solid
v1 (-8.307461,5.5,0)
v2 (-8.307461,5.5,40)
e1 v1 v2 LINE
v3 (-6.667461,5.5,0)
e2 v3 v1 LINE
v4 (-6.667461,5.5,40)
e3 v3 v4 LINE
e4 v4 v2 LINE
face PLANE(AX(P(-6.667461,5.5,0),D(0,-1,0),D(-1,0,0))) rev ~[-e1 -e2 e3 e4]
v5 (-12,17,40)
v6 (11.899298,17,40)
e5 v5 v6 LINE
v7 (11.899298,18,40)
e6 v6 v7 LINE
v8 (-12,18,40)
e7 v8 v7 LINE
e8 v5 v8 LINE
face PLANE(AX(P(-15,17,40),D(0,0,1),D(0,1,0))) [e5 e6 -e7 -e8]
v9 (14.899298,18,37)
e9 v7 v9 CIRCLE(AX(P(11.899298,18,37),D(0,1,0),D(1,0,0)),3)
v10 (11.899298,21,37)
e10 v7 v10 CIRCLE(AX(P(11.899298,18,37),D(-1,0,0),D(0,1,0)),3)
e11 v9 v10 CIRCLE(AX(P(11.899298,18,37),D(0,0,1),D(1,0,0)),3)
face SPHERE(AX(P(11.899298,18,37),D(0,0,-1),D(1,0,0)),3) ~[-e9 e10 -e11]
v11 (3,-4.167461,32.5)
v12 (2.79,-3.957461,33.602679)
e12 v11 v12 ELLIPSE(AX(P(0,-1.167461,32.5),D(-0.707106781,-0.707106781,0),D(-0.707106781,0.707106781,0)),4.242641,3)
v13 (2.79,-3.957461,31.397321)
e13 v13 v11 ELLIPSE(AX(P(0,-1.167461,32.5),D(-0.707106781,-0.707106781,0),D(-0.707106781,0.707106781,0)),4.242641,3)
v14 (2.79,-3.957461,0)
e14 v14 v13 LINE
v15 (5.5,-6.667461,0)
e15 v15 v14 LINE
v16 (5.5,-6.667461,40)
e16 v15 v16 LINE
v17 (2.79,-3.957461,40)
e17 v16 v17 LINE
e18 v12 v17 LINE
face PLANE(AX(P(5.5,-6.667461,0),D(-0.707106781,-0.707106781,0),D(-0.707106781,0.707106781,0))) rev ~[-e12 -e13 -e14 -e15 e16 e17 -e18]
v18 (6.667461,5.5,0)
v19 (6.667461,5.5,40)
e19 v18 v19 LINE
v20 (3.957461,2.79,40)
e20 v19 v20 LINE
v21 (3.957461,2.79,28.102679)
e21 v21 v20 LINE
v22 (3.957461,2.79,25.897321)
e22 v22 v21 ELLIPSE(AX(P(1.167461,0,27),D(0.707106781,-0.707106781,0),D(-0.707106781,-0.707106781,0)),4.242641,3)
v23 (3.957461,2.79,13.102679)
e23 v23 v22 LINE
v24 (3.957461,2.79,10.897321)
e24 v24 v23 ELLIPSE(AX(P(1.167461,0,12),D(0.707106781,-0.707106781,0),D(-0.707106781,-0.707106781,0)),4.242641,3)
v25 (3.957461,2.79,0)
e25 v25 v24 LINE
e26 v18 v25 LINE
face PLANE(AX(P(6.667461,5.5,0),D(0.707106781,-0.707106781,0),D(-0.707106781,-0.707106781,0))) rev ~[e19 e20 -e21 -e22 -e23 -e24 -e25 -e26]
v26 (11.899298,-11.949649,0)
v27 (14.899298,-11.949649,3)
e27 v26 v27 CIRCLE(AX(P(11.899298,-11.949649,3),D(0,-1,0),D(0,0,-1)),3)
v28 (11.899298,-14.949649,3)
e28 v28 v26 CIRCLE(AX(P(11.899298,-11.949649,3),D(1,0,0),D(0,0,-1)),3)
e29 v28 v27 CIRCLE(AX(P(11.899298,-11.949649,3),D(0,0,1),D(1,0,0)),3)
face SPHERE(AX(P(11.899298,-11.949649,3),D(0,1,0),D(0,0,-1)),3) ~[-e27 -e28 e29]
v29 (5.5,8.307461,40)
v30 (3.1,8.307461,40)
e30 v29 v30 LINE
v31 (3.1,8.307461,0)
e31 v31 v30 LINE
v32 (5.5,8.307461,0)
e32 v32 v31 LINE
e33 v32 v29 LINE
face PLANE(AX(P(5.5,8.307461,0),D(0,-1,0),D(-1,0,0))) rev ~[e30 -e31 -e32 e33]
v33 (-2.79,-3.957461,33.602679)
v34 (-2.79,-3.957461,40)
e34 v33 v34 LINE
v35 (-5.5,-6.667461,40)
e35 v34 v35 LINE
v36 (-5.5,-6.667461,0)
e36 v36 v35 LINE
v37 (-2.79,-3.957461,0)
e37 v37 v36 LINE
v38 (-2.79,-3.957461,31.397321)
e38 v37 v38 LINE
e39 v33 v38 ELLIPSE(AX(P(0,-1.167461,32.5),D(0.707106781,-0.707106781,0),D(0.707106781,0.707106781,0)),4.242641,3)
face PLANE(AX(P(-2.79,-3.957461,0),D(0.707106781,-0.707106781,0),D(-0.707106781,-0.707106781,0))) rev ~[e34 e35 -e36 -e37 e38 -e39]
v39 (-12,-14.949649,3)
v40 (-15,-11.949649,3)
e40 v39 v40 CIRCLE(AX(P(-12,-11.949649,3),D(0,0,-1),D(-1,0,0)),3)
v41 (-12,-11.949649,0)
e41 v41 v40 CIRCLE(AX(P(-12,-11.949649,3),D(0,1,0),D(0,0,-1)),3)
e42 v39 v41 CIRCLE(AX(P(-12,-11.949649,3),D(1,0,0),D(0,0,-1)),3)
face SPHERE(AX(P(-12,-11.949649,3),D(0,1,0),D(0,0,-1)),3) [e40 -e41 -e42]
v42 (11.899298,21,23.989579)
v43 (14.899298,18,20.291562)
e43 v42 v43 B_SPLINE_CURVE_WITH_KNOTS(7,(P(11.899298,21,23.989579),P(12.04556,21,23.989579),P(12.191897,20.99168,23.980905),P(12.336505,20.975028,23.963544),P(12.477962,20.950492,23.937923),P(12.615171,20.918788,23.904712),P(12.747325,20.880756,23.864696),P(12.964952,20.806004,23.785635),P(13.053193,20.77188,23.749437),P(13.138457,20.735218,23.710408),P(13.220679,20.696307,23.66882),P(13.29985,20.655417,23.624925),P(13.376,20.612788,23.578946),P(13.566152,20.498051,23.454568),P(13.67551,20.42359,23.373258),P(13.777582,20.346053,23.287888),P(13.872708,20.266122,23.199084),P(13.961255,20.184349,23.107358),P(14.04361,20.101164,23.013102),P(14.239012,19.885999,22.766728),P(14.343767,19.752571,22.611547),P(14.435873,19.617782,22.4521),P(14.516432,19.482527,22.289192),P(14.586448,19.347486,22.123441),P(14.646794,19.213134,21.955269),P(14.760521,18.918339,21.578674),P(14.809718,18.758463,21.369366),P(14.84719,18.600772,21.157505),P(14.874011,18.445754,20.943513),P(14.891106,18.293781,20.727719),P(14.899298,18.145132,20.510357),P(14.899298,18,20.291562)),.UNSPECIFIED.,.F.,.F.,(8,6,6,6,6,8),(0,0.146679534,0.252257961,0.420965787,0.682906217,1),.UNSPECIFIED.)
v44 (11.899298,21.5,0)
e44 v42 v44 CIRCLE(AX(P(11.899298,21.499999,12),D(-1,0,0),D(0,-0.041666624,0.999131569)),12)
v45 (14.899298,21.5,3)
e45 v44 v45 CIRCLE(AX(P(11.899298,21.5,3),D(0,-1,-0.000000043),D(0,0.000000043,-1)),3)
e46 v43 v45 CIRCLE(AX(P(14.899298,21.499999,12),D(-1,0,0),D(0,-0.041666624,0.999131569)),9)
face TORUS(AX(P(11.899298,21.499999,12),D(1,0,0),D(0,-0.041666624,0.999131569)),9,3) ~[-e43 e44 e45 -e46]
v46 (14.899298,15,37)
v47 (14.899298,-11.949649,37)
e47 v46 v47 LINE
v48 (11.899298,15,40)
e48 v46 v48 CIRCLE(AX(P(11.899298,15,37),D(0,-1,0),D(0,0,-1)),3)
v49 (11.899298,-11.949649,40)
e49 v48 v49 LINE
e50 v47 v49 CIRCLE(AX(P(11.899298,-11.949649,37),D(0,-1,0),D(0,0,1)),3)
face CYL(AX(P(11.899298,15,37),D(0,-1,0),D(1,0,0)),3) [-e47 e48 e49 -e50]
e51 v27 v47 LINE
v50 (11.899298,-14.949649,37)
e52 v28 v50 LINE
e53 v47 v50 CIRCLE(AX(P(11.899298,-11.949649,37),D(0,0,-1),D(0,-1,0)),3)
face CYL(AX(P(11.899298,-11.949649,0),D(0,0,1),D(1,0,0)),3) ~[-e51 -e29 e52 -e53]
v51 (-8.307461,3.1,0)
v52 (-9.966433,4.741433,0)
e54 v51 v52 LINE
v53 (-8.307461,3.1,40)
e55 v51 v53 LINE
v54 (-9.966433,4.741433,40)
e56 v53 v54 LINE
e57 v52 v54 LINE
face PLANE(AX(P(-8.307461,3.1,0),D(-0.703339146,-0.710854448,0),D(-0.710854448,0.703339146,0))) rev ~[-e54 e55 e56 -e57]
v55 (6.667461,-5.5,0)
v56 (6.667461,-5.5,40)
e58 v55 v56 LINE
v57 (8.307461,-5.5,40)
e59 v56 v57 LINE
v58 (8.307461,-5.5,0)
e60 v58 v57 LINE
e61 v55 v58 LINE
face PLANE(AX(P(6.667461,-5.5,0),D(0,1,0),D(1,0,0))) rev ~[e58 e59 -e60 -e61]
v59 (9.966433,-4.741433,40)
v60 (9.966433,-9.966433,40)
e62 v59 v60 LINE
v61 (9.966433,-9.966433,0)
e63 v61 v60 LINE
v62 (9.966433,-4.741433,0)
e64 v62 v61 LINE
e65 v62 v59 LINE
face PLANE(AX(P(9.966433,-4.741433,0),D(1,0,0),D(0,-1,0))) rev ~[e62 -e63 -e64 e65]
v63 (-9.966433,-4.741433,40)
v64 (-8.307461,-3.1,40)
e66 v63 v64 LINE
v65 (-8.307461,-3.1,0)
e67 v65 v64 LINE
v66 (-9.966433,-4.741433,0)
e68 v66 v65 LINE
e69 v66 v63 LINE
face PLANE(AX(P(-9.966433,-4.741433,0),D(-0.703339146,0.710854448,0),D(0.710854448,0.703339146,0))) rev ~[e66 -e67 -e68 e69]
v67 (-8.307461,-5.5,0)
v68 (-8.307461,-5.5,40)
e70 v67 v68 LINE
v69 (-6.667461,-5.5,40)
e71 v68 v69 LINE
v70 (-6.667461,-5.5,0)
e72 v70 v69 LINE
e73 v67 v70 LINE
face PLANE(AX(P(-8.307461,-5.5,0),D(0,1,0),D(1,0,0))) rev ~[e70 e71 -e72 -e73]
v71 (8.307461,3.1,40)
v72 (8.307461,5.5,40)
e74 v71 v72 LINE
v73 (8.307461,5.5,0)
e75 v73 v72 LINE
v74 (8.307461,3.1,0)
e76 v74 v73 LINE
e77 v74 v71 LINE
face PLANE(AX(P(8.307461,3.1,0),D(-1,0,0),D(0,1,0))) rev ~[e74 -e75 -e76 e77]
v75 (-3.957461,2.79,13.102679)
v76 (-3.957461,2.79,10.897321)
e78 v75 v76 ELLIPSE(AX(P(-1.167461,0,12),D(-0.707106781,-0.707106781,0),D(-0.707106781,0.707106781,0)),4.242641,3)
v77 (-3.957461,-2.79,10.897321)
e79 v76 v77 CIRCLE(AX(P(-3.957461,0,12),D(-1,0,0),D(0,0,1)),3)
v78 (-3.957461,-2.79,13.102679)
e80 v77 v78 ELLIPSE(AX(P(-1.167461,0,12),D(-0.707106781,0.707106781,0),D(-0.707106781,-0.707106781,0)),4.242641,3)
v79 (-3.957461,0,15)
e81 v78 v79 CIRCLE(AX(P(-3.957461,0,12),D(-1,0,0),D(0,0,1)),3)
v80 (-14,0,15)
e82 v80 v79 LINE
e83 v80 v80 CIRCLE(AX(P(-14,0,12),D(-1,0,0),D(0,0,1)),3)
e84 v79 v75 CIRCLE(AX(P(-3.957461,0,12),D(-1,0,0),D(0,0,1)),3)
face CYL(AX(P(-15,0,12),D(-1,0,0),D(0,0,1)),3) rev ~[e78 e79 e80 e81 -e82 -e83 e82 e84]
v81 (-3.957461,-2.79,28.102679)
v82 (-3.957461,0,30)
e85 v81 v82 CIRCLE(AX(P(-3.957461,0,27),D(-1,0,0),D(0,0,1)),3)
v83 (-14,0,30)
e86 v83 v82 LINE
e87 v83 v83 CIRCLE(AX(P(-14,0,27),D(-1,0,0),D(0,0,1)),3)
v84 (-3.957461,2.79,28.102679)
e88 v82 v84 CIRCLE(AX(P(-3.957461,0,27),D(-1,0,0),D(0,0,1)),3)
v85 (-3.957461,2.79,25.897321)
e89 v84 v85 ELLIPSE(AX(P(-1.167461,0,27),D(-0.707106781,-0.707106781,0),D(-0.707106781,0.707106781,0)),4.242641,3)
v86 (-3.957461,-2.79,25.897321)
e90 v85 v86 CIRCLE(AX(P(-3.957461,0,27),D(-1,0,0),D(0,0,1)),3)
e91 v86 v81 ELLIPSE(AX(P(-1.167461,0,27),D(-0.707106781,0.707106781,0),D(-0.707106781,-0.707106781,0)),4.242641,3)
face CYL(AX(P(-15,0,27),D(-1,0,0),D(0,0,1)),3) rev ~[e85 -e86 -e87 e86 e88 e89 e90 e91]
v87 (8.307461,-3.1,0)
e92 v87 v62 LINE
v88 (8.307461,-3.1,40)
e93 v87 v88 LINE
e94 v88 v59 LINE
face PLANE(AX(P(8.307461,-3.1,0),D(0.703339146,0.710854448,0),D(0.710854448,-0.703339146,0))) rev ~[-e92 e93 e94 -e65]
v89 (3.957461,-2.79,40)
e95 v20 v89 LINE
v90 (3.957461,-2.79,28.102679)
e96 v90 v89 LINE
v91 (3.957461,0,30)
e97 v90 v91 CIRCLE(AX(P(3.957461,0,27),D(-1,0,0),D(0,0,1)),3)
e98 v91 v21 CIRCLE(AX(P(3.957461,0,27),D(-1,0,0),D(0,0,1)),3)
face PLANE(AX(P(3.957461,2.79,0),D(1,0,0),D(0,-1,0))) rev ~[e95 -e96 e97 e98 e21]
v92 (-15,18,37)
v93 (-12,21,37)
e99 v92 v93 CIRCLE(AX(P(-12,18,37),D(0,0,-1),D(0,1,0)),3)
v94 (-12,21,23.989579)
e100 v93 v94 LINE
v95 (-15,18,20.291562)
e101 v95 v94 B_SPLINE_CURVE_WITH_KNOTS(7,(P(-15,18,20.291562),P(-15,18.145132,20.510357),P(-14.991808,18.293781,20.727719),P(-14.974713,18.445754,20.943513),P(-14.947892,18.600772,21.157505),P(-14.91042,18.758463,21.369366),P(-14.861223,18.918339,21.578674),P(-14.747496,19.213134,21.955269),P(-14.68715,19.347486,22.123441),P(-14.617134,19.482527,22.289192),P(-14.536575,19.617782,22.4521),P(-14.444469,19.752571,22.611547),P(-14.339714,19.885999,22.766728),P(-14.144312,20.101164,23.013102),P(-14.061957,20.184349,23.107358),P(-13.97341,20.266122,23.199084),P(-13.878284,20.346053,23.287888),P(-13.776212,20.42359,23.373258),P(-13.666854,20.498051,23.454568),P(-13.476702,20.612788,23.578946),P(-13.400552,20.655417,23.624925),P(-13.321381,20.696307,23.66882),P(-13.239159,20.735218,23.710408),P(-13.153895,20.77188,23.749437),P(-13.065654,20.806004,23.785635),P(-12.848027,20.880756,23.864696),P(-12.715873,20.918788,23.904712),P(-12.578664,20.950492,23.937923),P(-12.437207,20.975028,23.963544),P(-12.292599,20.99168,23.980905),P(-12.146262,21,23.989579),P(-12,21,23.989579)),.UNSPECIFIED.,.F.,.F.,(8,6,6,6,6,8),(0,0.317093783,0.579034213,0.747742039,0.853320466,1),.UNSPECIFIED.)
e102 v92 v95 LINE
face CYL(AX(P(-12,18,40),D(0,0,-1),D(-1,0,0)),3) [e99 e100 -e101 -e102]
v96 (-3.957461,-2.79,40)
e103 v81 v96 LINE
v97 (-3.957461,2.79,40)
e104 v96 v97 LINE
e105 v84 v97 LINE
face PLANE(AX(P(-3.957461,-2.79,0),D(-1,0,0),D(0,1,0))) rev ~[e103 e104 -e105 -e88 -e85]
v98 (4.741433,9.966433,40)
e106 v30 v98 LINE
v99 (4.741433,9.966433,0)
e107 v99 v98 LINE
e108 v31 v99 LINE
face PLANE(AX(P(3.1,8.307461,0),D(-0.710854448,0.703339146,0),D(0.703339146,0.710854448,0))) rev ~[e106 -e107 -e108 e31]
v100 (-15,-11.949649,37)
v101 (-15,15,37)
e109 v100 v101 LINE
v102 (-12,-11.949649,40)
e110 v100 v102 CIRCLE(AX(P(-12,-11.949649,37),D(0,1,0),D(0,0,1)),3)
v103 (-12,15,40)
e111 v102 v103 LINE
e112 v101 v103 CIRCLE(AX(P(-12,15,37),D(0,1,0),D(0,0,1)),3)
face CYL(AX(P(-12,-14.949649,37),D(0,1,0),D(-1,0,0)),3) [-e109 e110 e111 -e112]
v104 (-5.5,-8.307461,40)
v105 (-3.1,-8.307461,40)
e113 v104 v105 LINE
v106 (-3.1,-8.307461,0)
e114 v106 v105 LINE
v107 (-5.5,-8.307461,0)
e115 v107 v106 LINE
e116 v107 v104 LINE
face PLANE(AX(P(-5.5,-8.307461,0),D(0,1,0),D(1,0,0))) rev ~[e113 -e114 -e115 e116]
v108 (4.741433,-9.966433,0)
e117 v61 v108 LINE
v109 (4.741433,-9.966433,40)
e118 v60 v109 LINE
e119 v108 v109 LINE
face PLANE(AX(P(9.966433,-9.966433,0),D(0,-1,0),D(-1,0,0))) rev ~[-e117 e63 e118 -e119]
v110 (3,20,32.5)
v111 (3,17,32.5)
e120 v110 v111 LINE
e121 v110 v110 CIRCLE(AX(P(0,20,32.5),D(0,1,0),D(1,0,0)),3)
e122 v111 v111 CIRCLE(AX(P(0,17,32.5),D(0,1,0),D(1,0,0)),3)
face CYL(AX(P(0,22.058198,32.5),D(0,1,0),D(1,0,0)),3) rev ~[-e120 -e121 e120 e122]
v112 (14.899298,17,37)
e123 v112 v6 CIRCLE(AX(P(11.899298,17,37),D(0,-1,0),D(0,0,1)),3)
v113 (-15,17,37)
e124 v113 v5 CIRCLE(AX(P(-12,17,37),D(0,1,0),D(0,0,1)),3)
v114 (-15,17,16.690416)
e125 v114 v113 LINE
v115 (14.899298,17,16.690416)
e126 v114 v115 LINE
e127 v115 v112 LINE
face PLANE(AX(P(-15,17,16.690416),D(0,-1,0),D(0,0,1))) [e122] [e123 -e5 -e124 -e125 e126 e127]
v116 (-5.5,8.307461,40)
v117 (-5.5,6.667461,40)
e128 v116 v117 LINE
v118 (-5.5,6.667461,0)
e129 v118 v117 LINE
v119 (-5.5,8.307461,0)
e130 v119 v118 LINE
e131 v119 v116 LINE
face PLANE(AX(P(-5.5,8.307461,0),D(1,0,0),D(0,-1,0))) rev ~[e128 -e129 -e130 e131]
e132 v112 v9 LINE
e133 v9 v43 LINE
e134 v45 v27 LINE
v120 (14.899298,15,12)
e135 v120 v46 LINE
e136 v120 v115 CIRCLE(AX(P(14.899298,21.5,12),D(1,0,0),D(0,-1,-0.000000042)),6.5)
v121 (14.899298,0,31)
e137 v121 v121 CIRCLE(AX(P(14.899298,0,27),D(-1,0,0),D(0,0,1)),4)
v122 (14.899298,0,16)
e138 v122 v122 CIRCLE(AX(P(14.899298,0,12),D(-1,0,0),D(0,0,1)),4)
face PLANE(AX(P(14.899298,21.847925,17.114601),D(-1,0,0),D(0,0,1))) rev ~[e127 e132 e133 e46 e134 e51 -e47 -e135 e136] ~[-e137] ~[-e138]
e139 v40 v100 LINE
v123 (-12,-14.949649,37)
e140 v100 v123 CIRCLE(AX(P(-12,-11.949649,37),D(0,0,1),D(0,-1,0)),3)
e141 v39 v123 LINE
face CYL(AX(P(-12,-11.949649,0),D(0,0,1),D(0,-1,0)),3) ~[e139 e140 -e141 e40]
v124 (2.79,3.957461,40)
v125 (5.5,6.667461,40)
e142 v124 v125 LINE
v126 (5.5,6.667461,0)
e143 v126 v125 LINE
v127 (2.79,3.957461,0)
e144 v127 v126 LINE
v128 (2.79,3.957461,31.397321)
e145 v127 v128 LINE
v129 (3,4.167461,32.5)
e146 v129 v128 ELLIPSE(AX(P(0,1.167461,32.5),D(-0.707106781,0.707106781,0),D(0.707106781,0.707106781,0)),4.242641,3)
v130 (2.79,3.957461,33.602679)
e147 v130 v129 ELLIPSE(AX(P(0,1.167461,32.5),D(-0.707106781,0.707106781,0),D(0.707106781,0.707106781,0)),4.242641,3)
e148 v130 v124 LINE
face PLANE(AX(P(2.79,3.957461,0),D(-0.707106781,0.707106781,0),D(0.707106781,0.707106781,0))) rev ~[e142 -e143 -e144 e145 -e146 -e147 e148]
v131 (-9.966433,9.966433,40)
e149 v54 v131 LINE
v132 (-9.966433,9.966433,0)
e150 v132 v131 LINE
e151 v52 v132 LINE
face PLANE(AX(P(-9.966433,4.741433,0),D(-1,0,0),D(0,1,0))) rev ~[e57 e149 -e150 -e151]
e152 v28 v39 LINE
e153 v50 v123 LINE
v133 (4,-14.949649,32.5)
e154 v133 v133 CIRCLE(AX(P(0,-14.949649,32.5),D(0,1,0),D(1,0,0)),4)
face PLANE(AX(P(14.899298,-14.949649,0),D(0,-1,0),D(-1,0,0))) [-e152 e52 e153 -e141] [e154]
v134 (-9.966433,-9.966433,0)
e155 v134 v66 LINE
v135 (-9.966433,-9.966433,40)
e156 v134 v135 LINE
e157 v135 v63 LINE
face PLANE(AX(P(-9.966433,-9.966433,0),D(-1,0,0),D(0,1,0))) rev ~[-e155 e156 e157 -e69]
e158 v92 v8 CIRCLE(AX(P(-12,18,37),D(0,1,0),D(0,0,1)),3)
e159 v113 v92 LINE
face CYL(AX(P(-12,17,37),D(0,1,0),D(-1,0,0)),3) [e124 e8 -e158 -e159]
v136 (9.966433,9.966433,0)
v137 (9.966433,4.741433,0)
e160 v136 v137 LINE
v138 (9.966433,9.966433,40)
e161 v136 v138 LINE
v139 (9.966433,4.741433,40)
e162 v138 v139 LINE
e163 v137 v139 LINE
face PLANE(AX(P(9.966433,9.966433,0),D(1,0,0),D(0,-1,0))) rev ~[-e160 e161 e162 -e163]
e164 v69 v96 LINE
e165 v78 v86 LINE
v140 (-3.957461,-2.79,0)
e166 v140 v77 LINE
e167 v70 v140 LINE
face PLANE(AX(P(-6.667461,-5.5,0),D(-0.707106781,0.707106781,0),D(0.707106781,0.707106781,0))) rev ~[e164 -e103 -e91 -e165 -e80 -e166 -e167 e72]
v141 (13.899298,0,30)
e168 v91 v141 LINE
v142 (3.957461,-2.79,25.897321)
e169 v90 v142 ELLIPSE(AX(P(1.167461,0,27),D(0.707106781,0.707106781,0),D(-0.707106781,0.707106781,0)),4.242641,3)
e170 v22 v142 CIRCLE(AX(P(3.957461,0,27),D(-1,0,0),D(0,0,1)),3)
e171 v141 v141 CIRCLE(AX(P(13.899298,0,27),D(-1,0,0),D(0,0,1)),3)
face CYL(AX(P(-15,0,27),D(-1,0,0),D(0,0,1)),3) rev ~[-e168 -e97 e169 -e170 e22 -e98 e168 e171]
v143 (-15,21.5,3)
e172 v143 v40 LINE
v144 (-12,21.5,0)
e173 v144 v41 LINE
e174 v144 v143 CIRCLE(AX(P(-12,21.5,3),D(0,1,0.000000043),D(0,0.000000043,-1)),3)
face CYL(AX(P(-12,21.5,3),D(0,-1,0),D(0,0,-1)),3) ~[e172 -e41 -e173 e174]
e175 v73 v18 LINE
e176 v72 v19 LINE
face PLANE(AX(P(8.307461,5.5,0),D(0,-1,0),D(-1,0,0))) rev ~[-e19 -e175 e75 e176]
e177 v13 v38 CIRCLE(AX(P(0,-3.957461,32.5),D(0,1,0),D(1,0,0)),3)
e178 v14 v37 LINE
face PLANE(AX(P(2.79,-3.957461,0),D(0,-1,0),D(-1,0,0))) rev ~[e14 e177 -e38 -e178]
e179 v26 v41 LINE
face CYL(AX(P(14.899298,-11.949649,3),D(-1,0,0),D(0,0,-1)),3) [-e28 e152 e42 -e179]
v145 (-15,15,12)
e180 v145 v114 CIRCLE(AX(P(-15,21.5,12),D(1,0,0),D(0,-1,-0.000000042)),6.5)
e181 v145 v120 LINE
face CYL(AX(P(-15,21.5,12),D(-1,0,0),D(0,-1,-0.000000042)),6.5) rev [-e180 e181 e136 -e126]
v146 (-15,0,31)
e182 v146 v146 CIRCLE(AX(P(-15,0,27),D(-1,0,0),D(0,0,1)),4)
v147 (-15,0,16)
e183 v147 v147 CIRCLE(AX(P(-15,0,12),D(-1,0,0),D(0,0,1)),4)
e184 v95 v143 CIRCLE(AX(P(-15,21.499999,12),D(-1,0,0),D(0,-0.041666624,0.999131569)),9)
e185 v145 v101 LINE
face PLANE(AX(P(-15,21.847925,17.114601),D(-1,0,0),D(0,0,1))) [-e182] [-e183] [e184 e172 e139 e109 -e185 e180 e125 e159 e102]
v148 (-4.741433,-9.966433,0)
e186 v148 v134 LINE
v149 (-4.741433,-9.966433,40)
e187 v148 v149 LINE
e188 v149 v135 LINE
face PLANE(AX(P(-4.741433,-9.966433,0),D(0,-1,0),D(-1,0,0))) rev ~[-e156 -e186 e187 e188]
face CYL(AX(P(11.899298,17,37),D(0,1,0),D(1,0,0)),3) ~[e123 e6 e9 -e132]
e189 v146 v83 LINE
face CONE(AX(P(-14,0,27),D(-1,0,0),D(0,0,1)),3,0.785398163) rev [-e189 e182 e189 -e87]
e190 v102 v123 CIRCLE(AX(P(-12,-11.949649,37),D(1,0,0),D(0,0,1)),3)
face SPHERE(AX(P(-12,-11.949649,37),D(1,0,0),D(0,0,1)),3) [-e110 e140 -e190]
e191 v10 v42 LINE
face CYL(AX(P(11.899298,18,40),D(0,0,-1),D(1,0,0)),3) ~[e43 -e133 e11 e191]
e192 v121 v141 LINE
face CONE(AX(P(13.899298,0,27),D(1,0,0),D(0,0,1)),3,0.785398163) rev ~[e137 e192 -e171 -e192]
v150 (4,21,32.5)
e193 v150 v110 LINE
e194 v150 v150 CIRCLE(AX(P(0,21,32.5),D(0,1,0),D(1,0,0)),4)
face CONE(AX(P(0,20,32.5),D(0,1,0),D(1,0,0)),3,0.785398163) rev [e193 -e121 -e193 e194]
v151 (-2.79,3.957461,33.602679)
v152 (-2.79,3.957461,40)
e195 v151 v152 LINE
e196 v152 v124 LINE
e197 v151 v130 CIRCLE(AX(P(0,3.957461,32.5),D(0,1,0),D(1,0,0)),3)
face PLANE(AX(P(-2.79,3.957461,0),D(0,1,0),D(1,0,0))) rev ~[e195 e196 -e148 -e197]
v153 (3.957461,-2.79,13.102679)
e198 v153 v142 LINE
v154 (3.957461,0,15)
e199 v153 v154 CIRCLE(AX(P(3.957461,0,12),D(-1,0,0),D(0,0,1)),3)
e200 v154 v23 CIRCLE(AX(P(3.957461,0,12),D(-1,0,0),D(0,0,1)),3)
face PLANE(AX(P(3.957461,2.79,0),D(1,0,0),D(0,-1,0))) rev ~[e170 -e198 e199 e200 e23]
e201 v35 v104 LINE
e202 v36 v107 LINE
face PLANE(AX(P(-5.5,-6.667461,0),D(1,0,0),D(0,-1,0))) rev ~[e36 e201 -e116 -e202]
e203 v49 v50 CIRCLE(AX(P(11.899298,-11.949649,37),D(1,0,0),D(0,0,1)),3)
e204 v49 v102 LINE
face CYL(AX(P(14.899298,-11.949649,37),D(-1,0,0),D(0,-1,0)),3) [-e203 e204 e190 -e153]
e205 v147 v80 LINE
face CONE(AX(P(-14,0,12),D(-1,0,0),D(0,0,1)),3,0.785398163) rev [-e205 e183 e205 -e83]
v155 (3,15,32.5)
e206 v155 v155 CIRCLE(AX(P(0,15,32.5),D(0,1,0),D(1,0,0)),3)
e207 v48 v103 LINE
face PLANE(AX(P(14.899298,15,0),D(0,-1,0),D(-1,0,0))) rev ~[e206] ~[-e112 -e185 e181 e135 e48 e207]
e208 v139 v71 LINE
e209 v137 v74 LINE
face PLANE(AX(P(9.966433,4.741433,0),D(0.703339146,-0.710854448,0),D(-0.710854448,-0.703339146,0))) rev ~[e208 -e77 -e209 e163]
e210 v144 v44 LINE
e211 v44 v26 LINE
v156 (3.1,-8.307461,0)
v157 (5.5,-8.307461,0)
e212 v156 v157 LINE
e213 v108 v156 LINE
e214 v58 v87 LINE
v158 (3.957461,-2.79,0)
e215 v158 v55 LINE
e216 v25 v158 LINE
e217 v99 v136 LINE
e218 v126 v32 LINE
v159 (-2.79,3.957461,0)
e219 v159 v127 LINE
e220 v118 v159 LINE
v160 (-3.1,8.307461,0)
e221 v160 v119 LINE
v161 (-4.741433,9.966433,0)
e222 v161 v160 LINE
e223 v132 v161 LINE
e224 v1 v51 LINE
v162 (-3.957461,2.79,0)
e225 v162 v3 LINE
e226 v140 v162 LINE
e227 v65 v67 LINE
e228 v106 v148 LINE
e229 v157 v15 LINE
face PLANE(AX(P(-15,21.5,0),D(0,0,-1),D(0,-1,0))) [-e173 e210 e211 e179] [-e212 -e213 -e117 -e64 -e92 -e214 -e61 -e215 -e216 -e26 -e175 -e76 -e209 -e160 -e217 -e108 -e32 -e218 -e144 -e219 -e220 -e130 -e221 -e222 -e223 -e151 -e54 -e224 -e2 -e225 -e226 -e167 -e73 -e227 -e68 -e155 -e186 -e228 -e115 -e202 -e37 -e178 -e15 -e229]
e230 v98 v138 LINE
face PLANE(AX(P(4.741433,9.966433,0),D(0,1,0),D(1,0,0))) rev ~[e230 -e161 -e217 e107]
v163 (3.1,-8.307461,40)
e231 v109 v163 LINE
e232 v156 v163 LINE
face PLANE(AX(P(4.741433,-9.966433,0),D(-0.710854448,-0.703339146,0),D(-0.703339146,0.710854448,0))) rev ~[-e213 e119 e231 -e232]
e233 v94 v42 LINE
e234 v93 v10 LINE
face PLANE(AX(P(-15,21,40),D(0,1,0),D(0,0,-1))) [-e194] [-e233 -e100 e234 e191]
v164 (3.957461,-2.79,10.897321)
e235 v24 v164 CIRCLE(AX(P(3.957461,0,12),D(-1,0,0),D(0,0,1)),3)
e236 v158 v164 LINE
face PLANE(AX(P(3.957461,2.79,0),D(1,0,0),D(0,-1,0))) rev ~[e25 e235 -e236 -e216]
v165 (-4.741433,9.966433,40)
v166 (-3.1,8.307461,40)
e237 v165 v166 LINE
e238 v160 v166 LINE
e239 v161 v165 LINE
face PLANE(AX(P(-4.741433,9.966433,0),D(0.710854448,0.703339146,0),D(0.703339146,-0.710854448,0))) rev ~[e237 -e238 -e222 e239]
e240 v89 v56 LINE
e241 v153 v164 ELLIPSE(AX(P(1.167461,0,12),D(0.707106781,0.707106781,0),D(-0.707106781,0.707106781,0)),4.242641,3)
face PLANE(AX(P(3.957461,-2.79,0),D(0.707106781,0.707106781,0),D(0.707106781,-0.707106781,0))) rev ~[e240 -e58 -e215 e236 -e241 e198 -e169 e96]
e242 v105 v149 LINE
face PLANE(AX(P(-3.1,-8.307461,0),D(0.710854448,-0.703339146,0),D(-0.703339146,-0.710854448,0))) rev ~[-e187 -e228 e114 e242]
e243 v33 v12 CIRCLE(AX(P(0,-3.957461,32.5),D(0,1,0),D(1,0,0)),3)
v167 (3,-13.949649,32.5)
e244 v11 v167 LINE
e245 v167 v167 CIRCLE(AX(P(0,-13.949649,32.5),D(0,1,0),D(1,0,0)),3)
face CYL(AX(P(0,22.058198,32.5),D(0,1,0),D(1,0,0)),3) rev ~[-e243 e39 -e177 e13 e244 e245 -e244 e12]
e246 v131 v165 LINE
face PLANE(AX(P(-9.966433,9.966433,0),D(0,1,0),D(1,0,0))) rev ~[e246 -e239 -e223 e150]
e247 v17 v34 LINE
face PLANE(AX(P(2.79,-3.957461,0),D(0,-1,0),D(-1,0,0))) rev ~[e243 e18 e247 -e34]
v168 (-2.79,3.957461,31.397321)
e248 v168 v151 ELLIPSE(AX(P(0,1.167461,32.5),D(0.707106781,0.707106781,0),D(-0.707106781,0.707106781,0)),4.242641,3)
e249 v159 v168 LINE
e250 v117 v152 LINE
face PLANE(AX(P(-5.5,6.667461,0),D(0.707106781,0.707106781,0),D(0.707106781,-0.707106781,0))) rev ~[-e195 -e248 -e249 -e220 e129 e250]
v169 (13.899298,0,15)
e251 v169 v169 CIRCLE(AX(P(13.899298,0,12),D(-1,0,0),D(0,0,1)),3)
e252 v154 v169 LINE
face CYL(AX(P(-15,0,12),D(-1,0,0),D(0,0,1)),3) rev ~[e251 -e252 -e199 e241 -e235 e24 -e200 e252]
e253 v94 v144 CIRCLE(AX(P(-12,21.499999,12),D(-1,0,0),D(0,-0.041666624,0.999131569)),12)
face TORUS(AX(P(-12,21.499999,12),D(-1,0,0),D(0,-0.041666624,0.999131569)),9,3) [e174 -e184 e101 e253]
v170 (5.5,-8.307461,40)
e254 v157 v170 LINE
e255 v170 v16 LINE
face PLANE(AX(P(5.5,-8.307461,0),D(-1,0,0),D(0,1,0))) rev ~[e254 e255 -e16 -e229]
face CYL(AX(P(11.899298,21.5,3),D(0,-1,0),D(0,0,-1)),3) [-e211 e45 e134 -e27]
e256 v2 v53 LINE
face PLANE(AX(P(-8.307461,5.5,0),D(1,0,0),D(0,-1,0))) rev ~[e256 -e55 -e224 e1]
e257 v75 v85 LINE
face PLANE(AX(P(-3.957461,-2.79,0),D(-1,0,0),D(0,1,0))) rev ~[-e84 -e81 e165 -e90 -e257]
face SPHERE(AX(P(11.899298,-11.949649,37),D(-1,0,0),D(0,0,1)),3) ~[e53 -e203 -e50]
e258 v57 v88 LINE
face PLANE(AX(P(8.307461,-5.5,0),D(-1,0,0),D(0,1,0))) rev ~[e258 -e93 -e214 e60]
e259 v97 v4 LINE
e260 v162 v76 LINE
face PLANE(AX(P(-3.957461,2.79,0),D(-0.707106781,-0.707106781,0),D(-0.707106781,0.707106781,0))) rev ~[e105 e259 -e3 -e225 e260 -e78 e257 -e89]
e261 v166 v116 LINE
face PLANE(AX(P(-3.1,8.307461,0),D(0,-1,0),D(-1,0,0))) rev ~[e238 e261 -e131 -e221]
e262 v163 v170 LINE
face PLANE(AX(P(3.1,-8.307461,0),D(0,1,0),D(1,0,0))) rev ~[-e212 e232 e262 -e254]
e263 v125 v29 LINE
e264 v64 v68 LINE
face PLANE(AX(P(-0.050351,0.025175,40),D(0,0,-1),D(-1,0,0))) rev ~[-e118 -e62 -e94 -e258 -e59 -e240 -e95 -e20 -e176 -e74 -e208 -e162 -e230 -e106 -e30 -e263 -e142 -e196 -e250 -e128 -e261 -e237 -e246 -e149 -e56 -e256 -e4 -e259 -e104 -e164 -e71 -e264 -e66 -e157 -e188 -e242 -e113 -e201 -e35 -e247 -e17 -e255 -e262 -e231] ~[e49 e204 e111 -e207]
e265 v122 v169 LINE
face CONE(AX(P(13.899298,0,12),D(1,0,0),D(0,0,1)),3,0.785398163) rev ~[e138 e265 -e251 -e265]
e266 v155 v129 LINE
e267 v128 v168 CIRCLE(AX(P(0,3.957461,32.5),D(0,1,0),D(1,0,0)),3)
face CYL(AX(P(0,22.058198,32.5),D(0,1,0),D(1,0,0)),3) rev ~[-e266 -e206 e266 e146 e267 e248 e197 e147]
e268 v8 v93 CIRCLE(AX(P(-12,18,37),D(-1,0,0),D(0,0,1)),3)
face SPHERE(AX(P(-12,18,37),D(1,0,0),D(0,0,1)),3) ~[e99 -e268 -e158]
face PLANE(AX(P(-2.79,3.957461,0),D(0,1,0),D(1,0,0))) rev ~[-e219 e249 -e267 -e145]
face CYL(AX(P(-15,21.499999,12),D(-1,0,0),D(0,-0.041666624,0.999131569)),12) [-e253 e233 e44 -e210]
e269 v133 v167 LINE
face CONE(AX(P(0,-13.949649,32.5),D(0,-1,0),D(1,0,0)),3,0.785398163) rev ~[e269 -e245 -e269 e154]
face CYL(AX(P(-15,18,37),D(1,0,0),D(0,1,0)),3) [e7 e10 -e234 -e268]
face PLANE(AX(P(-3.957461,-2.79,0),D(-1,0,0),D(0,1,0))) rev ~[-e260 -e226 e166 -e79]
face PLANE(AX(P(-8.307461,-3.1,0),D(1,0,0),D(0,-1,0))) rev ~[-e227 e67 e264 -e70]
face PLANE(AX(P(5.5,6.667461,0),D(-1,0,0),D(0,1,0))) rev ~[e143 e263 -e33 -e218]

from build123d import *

# Parameters (mm, degrees)
BOSS_EXTRUDE1_DEPTH = 40
BOSS_EXTRUDE3_DEPTH = 29.899298
SKETCH3_R           = 3
CUT_EXTRUDE1_DEPTH  = 30.899298
SKETCH4_R           = 3
CUT_EXTRUDE2_DEPTH  = 38.007847
FILLET1_R           = 3
CHAMFER1_SIZE       = 1


with BuildPart() as part:
    # Sketch1 → Boss-Extrude1 (new body)
    with BuildSketch(Plane.XY):
        Polygon((0, 15), (14.899298, 15), (14.899298, -14.949649), (-15, -14.949649), (-15, 15), align=None)
        Polygon((-9.966433, 9.966433), (-4.741433, 9.966433), (-3.1, 8.307461), (-5.5, 8.307461), (-5.5, 6.667461), (-2.79, 3.957461), (2.79, 3.957461), (5.5, 6.667461), (5.5, 8.307461), (3.1, 8.307461), (4.741433, 9.966433), (9.966433, 9.966433), (9.966433, 4.741433), (8.307461, 3.1), (8.307461, 5.5), (6.667461, 5.5), (3.957461, 2.79), (3.957461, -2.79), (6.667461, -5.5), (8.307461, -5.5), (8.307461, -3.1), (9.966433, -4.741433), (9.966433, -9.966433), (4.741433, -9.966433), (3.1, -8.307461), (5.5, -8.307461), (5.5, -6.667461), (2.79, -3.957461), (-2.79, -3.957461), (-5.5, -6.667461), (-5.5, -8.307461), (-3.1, -8.307461), (-4.741433, -9.966433), (-9.966433, -9.966433), (-9.966433, -4.741433), (-8.307461, -3.1), (-8.307461, -5.5), (-6.667461, -5.5), (-3.957461, -2.79), (-3.957461, 2.79), (-6.667461, 5.5), (-8.307461, 5.5), (-8.307461, 3.1), (-9.966433, 4.741433), align=None, mode=Mode.SUBTRACT)
    extrude(amount=BOSS_EXTRUDE1_DEPTH)

    # Sketch5 → Boss-Extrude3 (add, through all)
    with BuildSketch(Plane.ZY.offset(15)):
        with BuildLine():
            Line((0, 21.5), (0, 15))
            Line((0, 15), (12, 15))
            ThreePointArc((12, 15), (9.45049, 27.47913), (16.690416, 17))
            Line((16.690416, 17), (27.804488, 17))
            Line((27.804488, 17), (40, 17))
            Line((40, 17), (40, 21))
            Line((40, 21), (23.989579, 21))
            ThreePointArc((23.989579, 21), (12.250054, 33.497394), (0, 21.5))
        make_face()
    extrude(amount=-BOSS_EXTRUDE3_DEPTH)

    # Sketch3 → Cut-Extrude1 (cut, through all)
    with BuildSketch(Plane.ZY.offset(15)):
        with Locations((12, 0)):
            Circle(SKETCH3_R)
        with Locations((27, 0)):
            Circle(SKETCH3_R)
    extrude(amount=-CUT_EXTRUDE1_DEPTH, mode=Mode.SUBTRACT)

    # Sketch4 → Cut-Extrude2 (cut, through all)
    with BuildSketch(Plane(origin=(0, 22.058198, 0), x_dir=(1, 0, 0), z_dir=(0, 1, 0))):
        with Locations((0, -32.5)):
            Circle(SKETCH4_R)
    extrude(amount=-CUT_EXTRUDE2_DEPTH, mode=Mode.SUBTRACT)

    # Fillet1
    fillet1_edges = [part.edges().sort_by_distance(p)[0] for p in [
        (-0.050351, -14.949649, 40),
        (14.899298, 0.025175, 40),
        (14.899298, 33.497394, 12.250054),
        (14.899298, 21, 31.994789),
        (14.899298, 19, 40),
        (-0.050351, 21, 40),
        (-15, 19, 40),
        (-15, 21, 31.994789),
        (-15, 33.497394, 12.250054),
        (14.899298, 0.025175, 0),
        (-0.050351, -14.949649, 0),
        (-15, 3.275175, 0),
        (-15, 0.025175, 40),
        (14.899298, -14.949649, 20),
        (-15, -14.949649, 20),
    ]]
    fillet(fillet1_edges, radius=FILLET1_R)

    # Chamfer1
    chamfer1_edges = [part.edges().sort_by_distance(p)[0] for p in [
        (14.899298, 0, 9),
        (-15, 0, 9),
        (14.899298, 0, 24),
        (-15, 0, 24),
        (-3, -14.949649, 32.5),
        (-3, 21, 32.5),
    ]]
    chamfer(chamfer1_edges, length=CHAMFER1_SIZE)


solid = part.part
